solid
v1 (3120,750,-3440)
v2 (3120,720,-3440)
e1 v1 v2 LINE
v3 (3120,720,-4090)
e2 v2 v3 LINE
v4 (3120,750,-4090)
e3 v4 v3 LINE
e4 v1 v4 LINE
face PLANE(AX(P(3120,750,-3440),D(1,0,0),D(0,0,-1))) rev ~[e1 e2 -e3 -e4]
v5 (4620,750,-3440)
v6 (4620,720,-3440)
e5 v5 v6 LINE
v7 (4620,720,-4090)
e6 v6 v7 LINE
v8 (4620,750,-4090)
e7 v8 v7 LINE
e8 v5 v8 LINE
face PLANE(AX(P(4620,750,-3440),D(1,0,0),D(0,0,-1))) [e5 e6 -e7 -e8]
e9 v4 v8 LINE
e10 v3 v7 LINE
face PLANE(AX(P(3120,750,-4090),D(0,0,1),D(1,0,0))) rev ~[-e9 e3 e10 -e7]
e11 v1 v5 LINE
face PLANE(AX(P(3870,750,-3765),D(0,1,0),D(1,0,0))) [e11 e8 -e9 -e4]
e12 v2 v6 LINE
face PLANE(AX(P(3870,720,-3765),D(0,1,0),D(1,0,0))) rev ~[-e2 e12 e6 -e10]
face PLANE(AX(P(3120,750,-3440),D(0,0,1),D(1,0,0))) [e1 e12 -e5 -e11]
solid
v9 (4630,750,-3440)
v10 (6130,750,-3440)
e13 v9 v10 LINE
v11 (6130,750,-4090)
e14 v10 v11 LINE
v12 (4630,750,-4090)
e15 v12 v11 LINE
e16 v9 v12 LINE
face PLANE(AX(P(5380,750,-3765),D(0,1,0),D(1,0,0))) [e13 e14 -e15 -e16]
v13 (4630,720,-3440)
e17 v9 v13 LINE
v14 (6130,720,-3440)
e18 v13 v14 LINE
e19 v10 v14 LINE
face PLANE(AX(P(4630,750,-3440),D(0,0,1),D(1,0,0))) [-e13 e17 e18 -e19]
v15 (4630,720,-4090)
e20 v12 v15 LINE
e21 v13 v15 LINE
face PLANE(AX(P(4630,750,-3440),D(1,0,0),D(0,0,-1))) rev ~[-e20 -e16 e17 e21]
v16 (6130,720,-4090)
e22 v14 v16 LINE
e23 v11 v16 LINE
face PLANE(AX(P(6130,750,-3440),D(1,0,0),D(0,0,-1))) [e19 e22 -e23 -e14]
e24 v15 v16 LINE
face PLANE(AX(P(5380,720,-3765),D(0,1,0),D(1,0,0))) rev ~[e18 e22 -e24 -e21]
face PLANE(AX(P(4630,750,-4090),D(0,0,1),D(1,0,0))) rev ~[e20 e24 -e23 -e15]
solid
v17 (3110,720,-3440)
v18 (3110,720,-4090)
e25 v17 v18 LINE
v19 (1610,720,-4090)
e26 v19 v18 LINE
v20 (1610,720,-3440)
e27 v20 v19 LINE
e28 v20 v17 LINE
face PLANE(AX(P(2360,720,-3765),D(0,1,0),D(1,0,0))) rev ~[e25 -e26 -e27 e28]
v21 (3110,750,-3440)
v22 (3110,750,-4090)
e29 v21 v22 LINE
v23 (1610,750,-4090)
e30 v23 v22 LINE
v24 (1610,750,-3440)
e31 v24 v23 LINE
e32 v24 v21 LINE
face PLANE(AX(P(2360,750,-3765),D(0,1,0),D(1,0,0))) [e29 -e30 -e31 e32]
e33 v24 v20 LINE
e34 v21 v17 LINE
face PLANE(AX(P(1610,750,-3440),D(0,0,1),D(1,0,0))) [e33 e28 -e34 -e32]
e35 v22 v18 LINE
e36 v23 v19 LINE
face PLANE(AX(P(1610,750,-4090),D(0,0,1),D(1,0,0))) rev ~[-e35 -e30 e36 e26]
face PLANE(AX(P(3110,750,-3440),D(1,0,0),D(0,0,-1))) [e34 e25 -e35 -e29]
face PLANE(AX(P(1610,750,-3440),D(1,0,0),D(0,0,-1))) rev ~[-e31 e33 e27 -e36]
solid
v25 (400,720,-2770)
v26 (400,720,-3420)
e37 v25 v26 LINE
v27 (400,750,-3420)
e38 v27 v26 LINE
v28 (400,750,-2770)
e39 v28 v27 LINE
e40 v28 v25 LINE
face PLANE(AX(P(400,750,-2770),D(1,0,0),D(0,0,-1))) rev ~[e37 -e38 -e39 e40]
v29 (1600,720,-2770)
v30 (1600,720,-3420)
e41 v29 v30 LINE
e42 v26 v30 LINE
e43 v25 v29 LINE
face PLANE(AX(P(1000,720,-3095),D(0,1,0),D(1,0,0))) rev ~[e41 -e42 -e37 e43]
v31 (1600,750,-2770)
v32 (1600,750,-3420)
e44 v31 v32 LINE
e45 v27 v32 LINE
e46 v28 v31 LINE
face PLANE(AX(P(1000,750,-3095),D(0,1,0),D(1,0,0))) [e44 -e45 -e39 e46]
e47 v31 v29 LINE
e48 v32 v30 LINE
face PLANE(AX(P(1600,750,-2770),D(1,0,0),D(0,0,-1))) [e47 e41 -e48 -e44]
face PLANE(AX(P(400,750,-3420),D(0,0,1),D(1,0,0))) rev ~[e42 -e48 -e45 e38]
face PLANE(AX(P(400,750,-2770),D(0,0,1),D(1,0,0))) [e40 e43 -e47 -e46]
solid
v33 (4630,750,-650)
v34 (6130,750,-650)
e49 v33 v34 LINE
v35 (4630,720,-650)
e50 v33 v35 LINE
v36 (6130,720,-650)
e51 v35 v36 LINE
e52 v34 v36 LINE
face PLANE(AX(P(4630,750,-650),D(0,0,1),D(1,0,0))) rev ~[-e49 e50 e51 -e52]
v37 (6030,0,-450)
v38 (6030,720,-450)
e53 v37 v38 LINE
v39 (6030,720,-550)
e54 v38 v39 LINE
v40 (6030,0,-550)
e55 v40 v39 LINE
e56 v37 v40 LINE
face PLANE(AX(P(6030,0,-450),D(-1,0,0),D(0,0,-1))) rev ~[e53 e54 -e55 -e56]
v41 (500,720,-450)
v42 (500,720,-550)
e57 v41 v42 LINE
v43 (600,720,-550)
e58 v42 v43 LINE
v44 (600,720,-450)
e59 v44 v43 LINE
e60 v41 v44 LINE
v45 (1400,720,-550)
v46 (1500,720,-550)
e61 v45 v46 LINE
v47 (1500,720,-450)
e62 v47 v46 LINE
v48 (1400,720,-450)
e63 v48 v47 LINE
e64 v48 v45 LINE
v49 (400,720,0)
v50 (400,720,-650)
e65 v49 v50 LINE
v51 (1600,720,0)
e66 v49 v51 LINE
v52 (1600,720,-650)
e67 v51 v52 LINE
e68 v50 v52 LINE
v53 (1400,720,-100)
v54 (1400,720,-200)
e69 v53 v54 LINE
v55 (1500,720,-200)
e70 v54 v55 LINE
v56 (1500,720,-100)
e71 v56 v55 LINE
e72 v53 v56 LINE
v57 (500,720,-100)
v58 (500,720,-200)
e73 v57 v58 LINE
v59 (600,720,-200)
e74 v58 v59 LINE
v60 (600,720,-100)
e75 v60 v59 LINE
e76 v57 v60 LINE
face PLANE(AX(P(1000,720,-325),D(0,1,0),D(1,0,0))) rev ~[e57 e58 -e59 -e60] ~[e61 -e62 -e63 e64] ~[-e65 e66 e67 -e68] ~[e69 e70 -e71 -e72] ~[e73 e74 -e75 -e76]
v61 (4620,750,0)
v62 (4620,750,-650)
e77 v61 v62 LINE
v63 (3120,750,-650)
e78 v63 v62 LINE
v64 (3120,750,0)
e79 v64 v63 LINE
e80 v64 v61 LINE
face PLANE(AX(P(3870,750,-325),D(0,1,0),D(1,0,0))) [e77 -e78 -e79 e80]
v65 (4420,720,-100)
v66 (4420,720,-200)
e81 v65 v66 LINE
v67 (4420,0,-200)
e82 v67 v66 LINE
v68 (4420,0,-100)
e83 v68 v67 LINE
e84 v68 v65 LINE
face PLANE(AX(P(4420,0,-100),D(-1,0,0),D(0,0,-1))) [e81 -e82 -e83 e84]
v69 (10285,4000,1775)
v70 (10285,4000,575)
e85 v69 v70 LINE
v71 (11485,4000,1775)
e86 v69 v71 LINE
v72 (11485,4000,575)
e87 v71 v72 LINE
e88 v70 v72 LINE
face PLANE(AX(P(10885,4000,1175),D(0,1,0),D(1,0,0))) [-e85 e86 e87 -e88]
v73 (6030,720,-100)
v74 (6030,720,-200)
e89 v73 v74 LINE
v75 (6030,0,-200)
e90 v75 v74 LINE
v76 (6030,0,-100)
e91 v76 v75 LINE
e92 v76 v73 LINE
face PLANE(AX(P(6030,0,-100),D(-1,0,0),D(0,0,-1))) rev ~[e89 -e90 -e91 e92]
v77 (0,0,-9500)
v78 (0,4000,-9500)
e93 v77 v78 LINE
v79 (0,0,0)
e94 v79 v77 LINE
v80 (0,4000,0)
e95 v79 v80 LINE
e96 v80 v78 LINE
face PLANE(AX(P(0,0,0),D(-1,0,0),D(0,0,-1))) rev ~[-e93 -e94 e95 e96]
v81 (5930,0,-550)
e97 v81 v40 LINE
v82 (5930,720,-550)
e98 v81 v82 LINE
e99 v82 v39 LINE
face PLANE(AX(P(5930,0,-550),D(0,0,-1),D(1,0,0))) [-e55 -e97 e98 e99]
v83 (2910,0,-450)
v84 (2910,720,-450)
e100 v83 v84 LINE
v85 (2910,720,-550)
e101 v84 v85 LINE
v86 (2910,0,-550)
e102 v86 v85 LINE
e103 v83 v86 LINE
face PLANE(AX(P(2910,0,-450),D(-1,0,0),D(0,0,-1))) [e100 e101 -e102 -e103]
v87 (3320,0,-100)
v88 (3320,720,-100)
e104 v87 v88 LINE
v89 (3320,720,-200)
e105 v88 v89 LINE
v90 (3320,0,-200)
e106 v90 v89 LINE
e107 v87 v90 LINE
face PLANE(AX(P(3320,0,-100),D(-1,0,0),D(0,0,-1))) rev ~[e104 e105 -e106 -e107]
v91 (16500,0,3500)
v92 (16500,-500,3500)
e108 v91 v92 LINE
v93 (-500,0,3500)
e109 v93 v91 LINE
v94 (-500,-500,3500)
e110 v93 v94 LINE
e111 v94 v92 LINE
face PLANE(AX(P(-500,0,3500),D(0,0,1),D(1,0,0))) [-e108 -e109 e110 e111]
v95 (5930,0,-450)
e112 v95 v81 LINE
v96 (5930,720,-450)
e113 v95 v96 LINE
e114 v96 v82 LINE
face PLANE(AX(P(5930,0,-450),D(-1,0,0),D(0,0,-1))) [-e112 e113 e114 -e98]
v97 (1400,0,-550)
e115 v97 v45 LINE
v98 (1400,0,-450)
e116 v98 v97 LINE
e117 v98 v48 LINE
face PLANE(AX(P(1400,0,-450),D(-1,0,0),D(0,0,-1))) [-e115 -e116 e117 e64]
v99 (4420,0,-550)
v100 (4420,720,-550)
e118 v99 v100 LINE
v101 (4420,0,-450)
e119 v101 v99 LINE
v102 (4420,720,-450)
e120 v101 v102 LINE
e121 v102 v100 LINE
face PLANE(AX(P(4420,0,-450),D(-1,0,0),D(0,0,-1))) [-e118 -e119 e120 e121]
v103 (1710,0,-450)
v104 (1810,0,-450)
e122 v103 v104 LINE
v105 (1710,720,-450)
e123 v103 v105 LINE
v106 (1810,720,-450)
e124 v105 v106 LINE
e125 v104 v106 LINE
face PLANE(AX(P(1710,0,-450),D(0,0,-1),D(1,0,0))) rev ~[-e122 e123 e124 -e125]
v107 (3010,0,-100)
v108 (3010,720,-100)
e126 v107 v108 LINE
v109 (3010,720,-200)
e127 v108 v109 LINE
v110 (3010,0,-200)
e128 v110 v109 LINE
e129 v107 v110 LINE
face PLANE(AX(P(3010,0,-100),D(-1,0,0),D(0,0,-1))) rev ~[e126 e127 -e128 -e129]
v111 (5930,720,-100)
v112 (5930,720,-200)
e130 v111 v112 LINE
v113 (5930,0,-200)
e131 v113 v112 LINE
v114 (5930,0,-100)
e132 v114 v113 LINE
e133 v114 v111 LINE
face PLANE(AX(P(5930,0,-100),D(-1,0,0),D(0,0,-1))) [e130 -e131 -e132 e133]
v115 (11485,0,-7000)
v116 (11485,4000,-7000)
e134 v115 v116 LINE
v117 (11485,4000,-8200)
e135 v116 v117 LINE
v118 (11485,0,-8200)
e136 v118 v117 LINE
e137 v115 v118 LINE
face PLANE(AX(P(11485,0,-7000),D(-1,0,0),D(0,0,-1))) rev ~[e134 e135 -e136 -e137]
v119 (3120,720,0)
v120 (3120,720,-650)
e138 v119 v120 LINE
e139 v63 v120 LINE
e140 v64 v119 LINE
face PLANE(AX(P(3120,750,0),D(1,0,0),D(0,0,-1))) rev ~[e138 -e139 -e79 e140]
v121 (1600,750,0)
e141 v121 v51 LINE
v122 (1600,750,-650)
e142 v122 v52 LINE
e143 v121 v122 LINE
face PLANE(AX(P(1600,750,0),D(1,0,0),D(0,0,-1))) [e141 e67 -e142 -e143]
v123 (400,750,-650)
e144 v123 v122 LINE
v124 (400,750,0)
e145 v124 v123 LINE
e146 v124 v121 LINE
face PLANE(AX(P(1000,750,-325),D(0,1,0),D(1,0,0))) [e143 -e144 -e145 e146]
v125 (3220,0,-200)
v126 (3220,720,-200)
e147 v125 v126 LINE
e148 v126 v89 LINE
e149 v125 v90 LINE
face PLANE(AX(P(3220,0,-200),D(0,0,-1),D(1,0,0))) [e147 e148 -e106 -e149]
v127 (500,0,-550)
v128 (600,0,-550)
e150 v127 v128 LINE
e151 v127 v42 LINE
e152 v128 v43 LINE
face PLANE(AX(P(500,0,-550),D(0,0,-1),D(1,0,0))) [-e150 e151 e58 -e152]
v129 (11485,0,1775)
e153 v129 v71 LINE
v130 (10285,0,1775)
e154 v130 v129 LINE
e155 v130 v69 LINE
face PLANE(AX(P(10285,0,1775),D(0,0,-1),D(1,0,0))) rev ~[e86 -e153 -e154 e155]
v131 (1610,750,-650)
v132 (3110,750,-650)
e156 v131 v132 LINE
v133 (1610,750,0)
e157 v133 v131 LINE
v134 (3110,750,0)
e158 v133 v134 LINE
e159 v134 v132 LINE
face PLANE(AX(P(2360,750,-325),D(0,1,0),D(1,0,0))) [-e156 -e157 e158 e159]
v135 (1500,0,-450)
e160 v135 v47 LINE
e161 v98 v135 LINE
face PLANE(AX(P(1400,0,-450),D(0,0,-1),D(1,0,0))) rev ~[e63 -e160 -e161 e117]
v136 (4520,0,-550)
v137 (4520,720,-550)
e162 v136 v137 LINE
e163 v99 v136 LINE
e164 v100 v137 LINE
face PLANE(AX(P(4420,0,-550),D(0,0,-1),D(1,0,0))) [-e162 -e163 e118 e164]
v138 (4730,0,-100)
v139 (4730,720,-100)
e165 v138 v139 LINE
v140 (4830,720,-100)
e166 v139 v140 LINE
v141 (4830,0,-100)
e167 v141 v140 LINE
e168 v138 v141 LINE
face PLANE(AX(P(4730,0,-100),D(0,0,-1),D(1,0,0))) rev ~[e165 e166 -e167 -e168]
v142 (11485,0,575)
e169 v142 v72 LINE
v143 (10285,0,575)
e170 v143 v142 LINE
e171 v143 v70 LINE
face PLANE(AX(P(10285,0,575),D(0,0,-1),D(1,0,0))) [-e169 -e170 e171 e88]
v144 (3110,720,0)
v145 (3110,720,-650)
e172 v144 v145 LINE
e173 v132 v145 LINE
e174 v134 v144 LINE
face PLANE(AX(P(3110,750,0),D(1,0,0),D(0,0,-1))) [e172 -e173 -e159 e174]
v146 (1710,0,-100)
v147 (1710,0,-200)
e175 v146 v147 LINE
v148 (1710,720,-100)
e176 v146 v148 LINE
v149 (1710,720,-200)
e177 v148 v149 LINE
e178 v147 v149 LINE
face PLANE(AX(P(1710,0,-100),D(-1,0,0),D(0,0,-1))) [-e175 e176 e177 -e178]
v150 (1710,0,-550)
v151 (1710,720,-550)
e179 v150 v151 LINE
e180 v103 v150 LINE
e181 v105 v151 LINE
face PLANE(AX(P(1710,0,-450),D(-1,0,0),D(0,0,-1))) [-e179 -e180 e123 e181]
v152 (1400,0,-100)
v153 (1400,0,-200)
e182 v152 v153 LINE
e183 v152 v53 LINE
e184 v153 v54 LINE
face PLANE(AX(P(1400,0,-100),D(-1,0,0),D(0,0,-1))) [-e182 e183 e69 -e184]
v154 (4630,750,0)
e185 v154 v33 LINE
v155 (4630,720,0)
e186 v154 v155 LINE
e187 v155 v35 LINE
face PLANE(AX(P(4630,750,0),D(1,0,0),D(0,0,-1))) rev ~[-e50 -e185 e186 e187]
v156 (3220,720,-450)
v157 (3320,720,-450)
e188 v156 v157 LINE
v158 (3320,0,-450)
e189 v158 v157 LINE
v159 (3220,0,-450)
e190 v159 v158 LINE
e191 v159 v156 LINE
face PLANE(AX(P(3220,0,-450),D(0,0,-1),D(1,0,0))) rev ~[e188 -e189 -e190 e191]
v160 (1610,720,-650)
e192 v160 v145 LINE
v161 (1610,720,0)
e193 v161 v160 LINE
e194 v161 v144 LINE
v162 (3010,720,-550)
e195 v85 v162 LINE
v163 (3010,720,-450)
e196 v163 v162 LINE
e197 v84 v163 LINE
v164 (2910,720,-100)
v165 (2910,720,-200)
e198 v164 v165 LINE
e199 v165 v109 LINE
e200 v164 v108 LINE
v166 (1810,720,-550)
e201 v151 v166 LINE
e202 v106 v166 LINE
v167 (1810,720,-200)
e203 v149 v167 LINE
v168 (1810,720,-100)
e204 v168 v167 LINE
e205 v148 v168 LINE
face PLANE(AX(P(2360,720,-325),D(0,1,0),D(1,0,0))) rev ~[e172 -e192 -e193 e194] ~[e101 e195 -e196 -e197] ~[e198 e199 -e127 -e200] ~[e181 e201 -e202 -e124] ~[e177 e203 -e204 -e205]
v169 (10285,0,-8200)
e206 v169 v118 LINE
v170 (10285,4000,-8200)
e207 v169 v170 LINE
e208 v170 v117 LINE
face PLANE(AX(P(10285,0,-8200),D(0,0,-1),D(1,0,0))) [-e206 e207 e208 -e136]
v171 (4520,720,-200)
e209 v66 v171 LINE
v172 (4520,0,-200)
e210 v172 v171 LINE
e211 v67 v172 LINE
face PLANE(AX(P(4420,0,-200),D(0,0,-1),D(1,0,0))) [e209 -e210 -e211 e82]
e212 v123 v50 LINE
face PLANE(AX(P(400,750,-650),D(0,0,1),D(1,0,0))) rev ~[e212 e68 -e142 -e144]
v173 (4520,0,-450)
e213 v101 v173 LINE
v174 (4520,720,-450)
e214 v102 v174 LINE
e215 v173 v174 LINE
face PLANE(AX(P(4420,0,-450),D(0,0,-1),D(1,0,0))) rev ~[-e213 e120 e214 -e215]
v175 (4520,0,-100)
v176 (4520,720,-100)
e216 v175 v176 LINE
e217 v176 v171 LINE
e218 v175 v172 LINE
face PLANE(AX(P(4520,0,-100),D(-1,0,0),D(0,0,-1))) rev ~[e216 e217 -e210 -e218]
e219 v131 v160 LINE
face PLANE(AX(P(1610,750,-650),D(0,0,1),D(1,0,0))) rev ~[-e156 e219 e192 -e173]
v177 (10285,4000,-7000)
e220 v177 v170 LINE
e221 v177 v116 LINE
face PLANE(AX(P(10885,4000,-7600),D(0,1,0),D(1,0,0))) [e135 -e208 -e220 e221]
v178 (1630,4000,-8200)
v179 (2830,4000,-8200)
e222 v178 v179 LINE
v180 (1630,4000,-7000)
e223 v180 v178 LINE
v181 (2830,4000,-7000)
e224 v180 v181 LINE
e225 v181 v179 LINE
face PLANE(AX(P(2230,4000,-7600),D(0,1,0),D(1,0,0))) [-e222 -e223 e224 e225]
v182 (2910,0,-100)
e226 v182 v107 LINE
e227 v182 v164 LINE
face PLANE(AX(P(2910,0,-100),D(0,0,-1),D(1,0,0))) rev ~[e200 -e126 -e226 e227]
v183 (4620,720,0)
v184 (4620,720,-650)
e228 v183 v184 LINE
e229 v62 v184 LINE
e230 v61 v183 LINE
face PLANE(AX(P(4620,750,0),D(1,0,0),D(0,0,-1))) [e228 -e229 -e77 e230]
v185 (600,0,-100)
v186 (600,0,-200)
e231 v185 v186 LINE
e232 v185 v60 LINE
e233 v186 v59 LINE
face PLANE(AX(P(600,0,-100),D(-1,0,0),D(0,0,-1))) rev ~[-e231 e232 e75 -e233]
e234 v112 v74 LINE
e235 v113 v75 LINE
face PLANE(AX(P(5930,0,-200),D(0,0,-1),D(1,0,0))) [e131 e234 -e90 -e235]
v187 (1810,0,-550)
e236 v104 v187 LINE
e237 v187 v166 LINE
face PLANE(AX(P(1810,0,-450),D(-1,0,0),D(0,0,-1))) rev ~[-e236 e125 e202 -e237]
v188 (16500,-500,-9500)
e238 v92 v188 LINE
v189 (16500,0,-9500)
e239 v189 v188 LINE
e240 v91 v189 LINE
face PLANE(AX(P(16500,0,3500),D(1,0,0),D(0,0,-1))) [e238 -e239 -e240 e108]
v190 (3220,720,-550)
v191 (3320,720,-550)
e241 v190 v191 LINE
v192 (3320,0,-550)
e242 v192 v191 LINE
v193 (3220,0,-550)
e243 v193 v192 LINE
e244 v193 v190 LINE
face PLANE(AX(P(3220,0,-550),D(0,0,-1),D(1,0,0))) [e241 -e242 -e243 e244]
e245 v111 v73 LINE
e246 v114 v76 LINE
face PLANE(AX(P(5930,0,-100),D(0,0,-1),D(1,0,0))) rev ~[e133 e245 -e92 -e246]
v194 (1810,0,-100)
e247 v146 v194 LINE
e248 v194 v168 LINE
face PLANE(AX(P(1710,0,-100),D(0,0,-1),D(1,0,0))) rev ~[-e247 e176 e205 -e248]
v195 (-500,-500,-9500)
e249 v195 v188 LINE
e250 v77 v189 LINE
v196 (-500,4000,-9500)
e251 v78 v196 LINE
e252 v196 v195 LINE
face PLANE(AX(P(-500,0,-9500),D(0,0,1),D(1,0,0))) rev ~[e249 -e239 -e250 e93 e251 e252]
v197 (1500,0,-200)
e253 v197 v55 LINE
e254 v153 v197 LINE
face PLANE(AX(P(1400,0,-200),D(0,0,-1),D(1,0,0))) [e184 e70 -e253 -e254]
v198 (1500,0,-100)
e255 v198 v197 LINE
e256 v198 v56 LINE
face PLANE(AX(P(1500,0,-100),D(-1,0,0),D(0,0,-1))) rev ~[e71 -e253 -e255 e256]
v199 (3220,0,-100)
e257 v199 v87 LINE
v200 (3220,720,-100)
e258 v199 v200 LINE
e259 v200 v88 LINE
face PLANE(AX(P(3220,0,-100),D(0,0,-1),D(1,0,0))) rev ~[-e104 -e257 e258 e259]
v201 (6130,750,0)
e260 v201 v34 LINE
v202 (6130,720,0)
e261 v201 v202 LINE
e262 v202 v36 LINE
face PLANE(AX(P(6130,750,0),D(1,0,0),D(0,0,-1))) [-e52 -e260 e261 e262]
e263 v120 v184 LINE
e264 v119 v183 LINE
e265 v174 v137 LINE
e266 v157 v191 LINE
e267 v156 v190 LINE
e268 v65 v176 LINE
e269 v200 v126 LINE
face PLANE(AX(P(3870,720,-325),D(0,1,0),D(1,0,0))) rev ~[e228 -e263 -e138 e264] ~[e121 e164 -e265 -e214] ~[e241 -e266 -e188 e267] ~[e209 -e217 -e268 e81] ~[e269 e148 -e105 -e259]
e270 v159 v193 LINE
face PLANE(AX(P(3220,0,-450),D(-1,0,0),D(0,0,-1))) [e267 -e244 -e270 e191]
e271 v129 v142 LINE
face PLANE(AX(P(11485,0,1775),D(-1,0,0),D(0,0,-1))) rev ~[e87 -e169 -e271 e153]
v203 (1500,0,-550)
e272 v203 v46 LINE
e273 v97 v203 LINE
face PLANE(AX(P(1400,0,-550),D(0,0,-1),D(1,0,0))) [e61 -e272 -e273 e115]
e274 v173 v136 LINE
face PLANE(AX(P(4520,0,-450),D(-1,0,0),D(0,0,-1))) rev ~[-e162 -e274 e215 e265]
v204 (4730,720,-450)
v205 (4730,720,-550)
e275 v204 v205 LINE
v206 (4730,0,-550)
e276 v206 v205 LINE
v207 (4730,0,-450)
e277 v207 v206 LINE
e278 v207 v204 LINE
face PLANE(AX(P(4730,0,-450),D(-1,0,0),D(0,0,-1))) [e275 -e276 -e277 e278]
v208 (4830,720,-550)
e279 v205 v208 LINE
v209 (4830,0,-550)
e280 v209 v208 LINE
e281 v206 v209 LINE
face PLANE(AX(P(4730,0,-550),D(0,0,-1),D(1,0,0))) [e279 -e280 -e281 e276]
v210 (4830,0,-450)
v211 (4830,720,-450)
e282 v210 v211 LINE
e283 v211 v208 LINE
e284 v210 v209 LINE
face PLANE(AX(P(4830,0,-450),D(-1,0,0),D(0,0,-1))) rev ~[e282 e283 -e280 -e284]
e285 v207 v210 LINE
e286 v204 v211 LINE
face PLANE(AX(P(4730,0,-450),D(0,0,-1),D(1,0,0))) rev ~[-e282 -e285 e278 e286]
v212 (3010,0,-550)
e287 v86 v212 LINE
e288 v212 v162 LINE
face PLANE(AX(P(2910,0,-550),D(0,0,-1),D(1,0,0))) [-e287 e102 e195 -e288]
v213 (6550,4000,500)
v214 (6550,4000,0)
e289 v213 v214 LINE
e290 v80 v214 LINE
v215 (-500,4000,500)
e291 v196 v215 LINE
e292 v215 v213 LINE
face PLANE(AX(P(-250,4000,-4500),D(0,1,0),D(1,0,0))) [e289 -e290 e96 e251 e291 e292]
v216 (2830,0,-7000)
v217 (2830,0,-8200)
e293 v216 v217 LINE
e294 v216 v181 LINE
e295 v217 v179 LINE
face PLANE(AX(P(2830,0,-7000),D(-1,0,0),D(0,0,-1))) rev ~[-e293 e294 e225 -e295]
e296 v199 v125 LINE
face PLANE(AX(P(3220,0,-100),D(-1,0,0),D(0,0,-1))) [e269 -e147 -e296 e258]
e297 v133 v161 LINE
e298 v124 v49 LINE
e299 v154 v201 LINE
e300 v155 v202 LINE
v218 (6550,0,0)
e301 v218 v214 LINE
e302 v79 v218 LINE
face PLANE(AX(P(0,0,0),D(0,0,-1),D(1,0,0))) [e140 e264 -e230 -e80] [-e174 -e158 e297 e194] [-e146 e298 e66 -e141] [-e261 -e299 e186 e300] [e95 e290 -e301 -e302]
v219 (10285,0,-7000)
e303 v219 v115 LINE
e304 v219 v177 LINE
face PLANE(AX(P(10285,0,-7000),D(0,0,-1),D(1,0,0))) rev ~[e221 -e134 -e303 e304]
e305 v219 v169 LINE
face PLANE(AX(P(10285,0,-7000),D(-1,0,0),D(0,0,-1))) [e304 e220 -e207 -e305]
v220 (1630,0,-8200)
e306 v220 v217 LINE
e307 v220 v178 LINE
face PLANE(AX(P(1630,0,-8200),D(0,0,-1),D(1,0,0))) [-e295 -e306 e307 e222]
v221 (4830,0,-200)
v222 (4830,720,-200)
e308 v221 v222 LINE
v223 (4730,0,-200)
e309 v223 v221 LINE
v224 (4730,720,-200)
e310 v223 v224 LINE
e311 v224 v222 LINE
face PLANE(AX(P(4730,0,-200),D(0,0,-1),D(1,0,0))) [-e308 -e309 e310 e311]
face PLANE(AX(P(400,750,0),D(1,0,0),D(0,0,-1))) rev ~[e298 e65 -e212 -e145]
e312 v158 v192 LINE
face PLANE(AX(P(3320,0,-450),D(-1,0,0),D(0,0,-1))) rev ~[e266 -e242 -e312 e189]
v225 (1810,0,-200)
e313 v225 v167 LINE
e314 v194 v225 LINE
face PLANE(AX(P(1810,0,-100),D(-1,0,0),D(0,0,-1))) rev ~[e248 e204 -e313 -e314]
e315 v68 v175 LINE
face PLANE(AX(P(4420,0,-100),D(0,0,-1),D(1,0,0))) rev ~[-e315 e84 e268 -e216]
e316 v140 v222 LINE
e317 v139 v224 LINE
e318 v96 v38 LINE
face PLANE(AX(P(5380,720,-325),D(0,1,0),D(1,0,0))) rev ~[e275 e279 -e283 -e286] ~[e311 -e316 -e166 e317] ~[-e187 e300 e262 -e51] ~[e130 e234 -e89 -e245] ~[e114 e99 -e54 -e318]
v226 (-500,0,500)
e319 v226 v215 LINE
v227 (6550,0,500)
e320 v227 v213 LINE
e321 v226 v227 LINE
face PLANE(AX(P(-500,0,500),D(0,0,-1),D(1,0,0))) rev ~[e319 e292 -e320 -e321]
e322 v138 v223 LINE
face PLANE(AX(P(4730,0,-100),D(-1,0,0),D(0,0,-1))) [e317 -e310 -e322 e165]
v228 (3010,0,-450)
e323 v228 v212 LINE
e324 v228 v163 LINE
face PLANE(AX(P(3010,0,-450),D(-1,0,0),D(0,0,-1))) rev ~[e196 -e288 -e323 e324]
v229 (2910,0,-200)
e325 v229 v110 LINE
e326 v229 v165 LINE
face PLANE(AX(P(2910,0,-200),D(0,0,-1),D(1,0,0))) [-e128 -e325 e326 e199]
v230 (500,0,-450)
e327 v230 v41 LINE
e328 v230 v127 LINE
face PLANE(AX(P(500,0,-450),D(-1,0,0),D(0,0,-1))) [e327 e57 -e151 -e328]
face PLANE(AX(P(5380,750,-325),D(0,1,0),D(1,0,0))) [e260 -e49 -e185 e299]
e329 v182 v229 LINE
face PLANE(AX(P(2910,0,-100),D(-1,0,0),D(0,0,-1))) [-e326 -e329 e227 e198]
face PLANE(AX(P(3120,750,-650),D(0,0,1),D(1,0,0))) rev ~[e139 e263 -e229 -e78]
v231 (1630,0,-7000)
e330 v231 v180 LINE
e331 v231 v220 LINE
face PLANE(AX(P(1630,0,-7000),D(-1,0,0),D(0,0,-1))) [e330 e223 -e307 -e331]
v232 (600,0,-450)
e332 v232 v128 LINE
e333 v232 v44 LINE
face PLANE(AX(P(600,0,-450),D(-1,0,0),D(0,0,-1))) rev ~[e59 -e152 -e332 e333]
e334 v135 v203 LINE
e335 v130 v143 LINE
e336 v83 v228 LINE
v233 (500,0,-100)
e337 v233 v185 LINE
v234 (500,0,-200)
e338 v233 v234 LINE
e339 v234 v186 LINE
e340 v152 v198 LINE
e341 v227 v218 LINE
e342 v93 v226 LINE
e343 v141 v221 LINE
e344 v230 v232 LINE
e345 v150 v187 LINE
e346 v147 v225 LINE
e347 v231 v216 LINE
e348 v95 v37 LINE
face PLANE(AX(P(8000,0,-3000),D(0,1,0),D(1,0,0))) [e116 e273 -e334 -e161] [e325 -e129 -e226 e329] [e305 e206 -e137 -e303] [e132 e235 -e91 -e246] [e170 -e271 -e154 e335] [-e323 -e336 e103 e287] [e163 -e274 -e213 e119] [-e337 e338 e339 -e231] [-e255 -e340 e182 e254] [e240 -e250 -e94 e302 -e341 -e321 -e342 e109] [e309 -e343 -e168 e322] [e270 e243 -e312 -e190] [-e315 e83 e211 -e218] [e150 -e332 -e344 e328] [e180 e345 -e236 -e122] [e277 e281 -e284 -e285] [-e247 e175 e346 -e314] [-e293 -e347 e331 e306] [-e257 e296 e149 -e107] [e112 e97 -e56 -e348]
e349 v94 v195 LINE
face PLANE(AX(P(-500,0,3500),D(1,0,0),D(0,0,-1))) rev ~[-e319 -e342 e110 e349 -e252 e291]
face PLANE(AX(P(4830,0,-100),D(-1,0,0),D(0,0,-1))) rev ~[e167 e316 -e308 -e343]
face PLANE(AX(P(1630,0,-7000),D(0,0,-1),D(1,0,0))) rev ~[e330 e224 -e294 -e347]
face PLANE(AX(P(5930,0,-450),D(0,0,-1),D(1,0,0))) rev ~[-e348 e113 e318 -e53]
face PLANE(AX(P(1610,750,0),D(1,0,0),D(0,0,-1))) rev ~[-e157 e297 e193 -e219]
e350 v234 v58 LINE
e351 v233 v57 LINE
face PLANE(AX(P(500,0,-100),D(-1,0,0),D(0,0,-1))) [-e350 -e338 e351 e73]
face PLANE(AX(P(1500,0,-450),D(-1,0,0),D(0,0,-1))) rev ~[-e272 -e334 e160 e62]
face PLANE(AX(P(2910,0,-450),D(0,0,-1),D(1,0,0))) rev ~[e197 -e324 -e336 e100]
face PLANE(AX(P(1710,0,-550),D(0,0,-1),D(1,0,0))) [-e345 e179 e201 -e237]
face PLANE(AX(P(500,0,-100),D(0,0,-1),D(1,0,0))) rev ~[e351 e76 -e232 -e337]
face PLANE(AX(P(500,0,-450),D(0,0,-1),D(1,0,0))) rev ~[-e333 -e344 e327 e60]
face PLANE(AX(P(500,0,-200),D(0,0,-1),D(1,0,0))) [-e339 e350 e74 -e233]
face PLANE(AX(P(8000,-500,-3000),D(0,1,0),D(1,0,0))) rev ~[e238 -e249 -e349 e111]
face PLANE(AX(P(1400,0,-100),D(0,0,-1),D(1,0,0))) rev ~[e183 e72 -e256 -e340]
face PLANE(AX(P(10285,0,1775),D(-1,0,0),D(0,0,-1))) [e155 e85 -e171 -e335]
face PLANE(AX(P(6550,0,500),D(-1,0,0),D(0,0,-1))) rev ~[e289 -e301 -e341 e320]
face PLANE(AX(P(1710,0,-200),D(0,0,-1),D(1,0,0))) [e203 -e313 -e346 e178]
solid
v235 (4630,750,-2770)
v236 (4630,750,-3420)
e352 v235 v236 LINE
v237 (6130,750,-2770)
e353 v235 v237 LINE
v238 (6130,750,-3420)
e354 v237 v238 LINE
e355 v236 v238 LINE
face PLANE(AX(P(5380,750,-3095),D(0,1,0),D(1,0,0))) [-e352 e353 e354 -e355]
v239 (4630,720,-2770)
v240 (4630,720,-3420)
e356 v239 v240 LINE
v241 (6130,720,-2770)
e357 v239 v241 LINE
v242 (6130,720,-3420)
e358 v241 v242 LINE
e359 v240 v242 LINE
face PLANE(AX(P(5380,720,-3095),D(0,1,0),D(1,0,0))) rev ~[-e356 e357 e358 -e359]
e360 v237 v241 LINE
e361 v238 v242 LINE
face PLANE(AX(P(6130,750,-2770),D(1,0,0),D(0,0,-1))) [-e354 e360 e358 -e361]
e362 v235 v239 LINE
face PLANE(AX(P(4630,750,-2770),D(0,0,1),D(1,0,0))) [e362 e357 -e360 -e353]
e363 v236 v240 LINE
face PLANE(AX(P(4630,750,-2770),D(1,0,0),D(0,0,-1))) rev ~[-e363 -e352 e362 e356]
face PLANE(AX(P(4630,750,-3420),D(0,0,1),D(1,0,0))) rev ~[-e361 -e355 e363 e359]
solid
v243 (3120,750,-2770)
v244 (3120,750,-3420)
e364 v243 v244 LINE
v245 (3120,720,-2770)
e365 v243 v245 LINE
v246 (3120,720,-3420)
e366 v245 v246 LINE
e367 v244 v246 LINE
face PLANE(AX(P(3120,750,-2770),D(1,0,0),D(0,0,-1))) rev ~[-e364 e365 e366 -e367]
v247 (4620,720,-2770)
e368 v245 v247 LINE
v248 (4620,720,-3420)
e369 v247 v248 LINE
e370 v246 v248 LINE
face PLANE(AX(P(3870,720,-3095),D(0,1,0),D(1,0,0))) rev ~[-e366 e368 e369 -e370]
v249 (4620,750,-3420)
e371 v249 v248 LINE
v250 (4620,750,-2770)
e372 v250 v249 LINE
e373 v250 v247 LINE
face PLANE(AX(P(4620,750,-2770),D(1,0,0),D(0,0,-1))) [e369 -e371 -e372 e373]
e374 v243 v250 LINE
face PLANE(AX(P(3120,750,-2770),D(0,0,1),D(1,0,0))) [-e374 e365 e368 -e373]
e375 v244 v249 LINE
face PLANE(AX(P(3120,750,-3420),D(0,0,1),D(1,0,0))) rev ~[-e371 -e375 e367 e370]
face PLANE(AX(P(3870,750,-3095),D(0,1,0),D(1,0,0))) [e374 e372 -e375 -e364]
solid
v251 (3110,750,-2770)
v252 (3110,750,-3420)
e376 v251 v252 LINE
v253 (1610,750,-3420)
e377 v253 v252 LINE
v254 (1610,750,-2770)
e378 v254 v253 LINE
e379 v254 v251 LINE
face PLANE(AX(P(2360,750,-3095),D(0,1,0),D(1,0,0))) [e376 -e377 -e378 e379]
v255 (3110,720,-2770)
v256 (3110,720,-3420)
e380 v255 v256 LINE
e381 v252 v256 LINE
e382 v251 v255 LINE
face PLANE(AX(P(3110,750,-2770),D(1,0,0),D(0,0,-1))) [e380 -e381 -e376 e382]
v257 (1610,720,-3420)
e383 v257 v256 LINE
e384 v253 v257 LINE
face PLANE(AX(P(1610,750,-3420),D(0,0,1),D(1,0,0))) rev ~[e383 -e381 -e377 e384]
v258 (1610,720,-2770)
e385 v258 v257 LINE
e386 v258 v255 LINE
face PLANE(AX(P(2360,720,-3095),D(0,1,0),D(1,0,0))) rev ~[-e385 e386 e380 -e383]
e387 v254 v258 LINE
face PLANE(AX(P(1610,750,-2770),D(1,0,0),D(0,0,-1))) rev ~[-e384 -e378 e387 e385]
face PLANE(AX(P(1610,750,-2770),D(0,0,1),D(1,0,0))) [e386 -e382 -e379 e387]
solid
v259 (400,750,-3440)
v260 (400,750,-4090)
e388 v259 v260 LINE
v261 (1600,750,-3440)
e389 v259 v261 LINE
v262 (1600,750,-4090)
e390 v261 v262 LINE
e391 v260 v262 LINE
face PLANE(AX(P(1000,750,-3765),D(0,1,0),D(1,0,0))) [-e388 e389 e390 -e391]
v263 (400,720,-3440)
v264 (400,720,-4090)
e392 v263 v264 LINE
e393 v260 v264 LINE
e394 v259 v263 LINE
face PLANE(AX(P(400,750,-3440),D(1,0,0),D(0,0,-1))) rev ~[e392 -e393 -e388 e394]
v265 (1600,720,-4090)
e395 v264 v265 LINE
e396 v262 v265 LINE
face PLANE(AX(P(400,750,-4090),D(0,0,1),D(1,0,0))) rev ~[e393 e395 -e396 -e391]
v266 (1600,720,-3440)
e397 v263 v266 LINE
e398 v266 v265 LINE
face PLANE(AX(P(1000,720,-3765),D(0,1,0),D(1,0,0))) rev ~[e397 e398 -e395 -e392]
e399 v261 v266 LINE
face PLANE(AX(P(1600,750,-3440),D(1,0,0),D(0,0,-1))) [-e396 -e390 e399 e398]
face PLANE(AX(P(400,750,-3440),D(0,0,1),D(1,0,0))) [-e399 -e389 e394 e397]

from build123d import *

# Parameters (mm, degrees)
SKETCH_2_W      = 6550
SKETCH_2_H      = 500
SKETCH_2_W_2    = 1200
SKETCH_2_H_2    = 1200
EXTRUDE_5_DEPTH = 4000
SKETCH_3_W      = 17000
SKETCH_3_H      = 13000
EXTRUDE_6_DEPTH = 500
EXTRUDE_START   = 750
SKETCH_4_W      = 1200
SKETCH_4_H      = 650
SKETCH_4_W_2    = 1500
EXTRUDE_7_DEPTH = 30
SKETCH_4_3_W    = 100
SKETCH_4_3_H    = 100
EXTRUDE_8_DEPTH = 720


with BuildPart() as part:
    # 草图2 → 凸台-拉伸5 (new body)
    with BuildSketch(Plane(origin=(0, 0, 0), x_dir=(1, 0, 0), z_dir=(0, 1, 0))):
        Polygon((-500, -500), (0, -500), (0, 0), (0, 9500), (-500, 9500), align=None)
        with Locations((3275, -250)):
            Rectangle(SKETCH_2_W, SKETCH_2_H)
        with Locations((2230, 7600)):
            Rectangle(SKETCH_2_W_2, SKETCH_2_H_2)
        with Locations((10885, 7600)):
            Rectangle(SKETCH_2_W_2, SKETCH_2_H_2)
        with Locations((10885, -1175)):
            Rectangle(SKETCH_2_W_2, SKETCH_2_H_2)
    extrude(amount=EXTRUDE_5_DEPTH)

    # 草图3 → 凸台-拉伸6 (add)
    with BuildSketch(Plane(origin=(0, 0, 0), x_dir=(1, 0, 0), z_dir=(0, 1, 0))):
        with Locations((8000, 3000)):
            Rectangle(SKETCH_3_W, SKETCH_3_H)
    extrude(amount=-EXTRUDE_6_DEPTH)

    # 草图4 → 凸台-拉伸7 (add)
    with BuildSketch(Plane(origin=(0, 0, 0), x_dir=(1, 0, 0), z_dir=(0, 1, 0)).offset(EXTRUDE_START)):
        with Locations((1000, 325)):
            Rectangle(SKETCH_4_W, SKETCH_4_H)
        with Locations((2360, 325)):
            Rectangle(SKETCH_4_W_2, SKETCH_4_H)
        with Locations((5380, 3095)):
            Rectangle(SKETCH_4_W_2, SKETCH_4_H)
        with Locations((3870, 325)):
            Rectangle(SKETCH_4_W_2, SKETCH_4_H)
        with Locations((5380, 325)):
            Rectangle(SKETCH_4_W_2, SKETCH_4_H)
        with Locations((1000, 3095)):
            Rectangle(SKETCH_4_W, SKETCH_4_H)
        with Locations((2360, 3095)):
            Rectangle(SKETCH_4_W_2, SKETCH_4_H)
        with Locations((1000, 3765)):
            Rectangle(SKETCH_4_W, SKETCH_4_H)
        with Locations((3870, 3095)):
            Rectangle(SKETCH_4_W_2, SKETCH_4_H)
        with Locations((2360, 3765)):
            Rectangle(SKETCH_4_W_2, SKETCH_4_H)
        with Locations((3870, 3765)):
            Rectangle(SKETCH_4_W_2, SKETCH_4_H)
        with Locations((5380, 3765)):
            Rectangle(SKETCH_4_W_2, SKETCH_4_H)
    extrude(amount=-EXTRUDE_7_DEPTH)


with BuildPart() as extrude_7_piece_1:
    # of the separate pieces the step leaves, piece 1, a body of its own (extrude_7_pieces)
    add(part.part.solids().sort_by_distance((-500, 0, 500))[0])

    # 草图4<3> → 凸台-拉伸8 (add)
    with BuildSketch(Plane(origin=(0, 0, 0), x_dir=(1, 0, 0), z_dir=(0, 1, 0))):
        with Locations((1450, 500)):
            Rectangle(SKETCH_4_3_W, SKETCH_4_3_H)
        with Locations((550, 500)):
            Rectangle(SKETCH_4_3_W, SKETCH_4_3_H)
        with Locations((550, 150)):
            Rectangle(SKETCH_4_3_W, SKETCH_4_3_H)
        with Locations((1760, 500)):
            Rectangle(SKETCH_4_3_W, SKETCH_4_3_H)
        with Locations((1450, 150)):
            Rectangle(SKETCH_4_3_W, SKETCH_4_3_H)
        with Locations((1760, 150)):
            Rectangle(SKETCH_4_3_W, SKETCH_4_3_H)
        with Locations((2960, 500)):
            Rectangle(SKETCH_4_3_W, SKETCH_4_3_H)
        with Locations((2960, 150)):
            Rectangle(SKETCH_4_3_W, SKETCH_4_3_H)
        with Locations((3270, 500)):
            Rectangle(SKETCH_4_3_W, SKETCH_4_3_H)
        with Locations((3270, 150)):
            Rectangle(SKETCH_4_3_W, SKETCH_4_3_H)
        with Locations((4470, 500)):
            Rectangle(SKETCH_4_3_W, SKETCH_4_3_H)
        with Locations((4470, 150)):
            Rectangle(SKETCH_4_3_W, SKETCH_4_3_H)
        with Locations((4780, 500)):
            Rectangle(SKETCH_4_3_W, SKETCH_4_3_H)
        with Locations((4780, 150)):
            Rectangle(SKETCH_4_3_W, SKETCH_4_3_H)
        with Locations((5980, 500)):
            Rectangle(SKETCH_4_3_W, SKETCH_4_3_H)
        with Locations((5980, 150)):
            Rectangle(SKETCH_4_3_W, SKETCH_4_3_H)
    extrude(amount=EXTRUDE_8_DEPTH)


with BuildPart() as extrude_7_piece_2:
    # of the separate pieces the step leaves, piece 2, a body of its own (extrude_7_pieces)
    add(part.part.solids().sort_by_distance((4620, 750, -4090))[0])


with BuildPart() as extrude_7_piece_3:
    # of the separate pieces the step leaves, piece 3, a body of its own (extrude_7_pieces)
    add(part.part.solids().sort_by_distance((1610, 750, -3420))[0])


with BuildPart() as extrude_7_piece_4:
    # of the separate pieces the step leaves, piece 4, a body of its own (extrude_7_pieces)
    add(part.part.solids().sort_by_distance((4620, 750, -3420))[0])


with BuildPart() as extrude_7_piece_5:
    # of the separate pieces the step leaves, piece 5, a body of its own (extrude_7_pieces)
    add(part.part.solids().sort_by_distance((3110, 750, -4090))[0])


with BuildPart() as extrude_7_piece_6:
    # of the separate pieces the step leaves, piece 6, a body of its own (extrude_7_pieces)
    add(part.part.solids().sort_by_distance((6130, 750, -4090))[0])


with BuildPart() as extrude_7_piece_7:
    # of the separate pieces the step leaves, piece 7, a body of its own (extrude_7_pieces)
    add(part.part.solids().sort_by_distance((6130, 750, -3420))[0])


with BuildPart() as extrude_7_piece_8:
    # of the separate pieces the step leaves, piece 8, a body of its own (extrude_7_pieces)
    add(part.part.solids().sort_by_distance((1600, 750, -4090))[0])


with BuildPart() as extrude_7_piece_9:
    # of the separate pieces the step leaves, piece 9, a body of its own (extrude_7_pieces)
    add(part.part.solids().sort_by_distance((1600, 750, -3420))[0])


solid = Compound([extrude_7_piece_1.part, extrude_7_piece_2.part, extrude_7_piece_3.part, extrude_7_piece_4.part, extrude_7_piece_5.part, extrude_7_piece_6.part, extrude_7_piece_7.part, extrude_7_piece_8.part, extrude_7_piece_9.part])
